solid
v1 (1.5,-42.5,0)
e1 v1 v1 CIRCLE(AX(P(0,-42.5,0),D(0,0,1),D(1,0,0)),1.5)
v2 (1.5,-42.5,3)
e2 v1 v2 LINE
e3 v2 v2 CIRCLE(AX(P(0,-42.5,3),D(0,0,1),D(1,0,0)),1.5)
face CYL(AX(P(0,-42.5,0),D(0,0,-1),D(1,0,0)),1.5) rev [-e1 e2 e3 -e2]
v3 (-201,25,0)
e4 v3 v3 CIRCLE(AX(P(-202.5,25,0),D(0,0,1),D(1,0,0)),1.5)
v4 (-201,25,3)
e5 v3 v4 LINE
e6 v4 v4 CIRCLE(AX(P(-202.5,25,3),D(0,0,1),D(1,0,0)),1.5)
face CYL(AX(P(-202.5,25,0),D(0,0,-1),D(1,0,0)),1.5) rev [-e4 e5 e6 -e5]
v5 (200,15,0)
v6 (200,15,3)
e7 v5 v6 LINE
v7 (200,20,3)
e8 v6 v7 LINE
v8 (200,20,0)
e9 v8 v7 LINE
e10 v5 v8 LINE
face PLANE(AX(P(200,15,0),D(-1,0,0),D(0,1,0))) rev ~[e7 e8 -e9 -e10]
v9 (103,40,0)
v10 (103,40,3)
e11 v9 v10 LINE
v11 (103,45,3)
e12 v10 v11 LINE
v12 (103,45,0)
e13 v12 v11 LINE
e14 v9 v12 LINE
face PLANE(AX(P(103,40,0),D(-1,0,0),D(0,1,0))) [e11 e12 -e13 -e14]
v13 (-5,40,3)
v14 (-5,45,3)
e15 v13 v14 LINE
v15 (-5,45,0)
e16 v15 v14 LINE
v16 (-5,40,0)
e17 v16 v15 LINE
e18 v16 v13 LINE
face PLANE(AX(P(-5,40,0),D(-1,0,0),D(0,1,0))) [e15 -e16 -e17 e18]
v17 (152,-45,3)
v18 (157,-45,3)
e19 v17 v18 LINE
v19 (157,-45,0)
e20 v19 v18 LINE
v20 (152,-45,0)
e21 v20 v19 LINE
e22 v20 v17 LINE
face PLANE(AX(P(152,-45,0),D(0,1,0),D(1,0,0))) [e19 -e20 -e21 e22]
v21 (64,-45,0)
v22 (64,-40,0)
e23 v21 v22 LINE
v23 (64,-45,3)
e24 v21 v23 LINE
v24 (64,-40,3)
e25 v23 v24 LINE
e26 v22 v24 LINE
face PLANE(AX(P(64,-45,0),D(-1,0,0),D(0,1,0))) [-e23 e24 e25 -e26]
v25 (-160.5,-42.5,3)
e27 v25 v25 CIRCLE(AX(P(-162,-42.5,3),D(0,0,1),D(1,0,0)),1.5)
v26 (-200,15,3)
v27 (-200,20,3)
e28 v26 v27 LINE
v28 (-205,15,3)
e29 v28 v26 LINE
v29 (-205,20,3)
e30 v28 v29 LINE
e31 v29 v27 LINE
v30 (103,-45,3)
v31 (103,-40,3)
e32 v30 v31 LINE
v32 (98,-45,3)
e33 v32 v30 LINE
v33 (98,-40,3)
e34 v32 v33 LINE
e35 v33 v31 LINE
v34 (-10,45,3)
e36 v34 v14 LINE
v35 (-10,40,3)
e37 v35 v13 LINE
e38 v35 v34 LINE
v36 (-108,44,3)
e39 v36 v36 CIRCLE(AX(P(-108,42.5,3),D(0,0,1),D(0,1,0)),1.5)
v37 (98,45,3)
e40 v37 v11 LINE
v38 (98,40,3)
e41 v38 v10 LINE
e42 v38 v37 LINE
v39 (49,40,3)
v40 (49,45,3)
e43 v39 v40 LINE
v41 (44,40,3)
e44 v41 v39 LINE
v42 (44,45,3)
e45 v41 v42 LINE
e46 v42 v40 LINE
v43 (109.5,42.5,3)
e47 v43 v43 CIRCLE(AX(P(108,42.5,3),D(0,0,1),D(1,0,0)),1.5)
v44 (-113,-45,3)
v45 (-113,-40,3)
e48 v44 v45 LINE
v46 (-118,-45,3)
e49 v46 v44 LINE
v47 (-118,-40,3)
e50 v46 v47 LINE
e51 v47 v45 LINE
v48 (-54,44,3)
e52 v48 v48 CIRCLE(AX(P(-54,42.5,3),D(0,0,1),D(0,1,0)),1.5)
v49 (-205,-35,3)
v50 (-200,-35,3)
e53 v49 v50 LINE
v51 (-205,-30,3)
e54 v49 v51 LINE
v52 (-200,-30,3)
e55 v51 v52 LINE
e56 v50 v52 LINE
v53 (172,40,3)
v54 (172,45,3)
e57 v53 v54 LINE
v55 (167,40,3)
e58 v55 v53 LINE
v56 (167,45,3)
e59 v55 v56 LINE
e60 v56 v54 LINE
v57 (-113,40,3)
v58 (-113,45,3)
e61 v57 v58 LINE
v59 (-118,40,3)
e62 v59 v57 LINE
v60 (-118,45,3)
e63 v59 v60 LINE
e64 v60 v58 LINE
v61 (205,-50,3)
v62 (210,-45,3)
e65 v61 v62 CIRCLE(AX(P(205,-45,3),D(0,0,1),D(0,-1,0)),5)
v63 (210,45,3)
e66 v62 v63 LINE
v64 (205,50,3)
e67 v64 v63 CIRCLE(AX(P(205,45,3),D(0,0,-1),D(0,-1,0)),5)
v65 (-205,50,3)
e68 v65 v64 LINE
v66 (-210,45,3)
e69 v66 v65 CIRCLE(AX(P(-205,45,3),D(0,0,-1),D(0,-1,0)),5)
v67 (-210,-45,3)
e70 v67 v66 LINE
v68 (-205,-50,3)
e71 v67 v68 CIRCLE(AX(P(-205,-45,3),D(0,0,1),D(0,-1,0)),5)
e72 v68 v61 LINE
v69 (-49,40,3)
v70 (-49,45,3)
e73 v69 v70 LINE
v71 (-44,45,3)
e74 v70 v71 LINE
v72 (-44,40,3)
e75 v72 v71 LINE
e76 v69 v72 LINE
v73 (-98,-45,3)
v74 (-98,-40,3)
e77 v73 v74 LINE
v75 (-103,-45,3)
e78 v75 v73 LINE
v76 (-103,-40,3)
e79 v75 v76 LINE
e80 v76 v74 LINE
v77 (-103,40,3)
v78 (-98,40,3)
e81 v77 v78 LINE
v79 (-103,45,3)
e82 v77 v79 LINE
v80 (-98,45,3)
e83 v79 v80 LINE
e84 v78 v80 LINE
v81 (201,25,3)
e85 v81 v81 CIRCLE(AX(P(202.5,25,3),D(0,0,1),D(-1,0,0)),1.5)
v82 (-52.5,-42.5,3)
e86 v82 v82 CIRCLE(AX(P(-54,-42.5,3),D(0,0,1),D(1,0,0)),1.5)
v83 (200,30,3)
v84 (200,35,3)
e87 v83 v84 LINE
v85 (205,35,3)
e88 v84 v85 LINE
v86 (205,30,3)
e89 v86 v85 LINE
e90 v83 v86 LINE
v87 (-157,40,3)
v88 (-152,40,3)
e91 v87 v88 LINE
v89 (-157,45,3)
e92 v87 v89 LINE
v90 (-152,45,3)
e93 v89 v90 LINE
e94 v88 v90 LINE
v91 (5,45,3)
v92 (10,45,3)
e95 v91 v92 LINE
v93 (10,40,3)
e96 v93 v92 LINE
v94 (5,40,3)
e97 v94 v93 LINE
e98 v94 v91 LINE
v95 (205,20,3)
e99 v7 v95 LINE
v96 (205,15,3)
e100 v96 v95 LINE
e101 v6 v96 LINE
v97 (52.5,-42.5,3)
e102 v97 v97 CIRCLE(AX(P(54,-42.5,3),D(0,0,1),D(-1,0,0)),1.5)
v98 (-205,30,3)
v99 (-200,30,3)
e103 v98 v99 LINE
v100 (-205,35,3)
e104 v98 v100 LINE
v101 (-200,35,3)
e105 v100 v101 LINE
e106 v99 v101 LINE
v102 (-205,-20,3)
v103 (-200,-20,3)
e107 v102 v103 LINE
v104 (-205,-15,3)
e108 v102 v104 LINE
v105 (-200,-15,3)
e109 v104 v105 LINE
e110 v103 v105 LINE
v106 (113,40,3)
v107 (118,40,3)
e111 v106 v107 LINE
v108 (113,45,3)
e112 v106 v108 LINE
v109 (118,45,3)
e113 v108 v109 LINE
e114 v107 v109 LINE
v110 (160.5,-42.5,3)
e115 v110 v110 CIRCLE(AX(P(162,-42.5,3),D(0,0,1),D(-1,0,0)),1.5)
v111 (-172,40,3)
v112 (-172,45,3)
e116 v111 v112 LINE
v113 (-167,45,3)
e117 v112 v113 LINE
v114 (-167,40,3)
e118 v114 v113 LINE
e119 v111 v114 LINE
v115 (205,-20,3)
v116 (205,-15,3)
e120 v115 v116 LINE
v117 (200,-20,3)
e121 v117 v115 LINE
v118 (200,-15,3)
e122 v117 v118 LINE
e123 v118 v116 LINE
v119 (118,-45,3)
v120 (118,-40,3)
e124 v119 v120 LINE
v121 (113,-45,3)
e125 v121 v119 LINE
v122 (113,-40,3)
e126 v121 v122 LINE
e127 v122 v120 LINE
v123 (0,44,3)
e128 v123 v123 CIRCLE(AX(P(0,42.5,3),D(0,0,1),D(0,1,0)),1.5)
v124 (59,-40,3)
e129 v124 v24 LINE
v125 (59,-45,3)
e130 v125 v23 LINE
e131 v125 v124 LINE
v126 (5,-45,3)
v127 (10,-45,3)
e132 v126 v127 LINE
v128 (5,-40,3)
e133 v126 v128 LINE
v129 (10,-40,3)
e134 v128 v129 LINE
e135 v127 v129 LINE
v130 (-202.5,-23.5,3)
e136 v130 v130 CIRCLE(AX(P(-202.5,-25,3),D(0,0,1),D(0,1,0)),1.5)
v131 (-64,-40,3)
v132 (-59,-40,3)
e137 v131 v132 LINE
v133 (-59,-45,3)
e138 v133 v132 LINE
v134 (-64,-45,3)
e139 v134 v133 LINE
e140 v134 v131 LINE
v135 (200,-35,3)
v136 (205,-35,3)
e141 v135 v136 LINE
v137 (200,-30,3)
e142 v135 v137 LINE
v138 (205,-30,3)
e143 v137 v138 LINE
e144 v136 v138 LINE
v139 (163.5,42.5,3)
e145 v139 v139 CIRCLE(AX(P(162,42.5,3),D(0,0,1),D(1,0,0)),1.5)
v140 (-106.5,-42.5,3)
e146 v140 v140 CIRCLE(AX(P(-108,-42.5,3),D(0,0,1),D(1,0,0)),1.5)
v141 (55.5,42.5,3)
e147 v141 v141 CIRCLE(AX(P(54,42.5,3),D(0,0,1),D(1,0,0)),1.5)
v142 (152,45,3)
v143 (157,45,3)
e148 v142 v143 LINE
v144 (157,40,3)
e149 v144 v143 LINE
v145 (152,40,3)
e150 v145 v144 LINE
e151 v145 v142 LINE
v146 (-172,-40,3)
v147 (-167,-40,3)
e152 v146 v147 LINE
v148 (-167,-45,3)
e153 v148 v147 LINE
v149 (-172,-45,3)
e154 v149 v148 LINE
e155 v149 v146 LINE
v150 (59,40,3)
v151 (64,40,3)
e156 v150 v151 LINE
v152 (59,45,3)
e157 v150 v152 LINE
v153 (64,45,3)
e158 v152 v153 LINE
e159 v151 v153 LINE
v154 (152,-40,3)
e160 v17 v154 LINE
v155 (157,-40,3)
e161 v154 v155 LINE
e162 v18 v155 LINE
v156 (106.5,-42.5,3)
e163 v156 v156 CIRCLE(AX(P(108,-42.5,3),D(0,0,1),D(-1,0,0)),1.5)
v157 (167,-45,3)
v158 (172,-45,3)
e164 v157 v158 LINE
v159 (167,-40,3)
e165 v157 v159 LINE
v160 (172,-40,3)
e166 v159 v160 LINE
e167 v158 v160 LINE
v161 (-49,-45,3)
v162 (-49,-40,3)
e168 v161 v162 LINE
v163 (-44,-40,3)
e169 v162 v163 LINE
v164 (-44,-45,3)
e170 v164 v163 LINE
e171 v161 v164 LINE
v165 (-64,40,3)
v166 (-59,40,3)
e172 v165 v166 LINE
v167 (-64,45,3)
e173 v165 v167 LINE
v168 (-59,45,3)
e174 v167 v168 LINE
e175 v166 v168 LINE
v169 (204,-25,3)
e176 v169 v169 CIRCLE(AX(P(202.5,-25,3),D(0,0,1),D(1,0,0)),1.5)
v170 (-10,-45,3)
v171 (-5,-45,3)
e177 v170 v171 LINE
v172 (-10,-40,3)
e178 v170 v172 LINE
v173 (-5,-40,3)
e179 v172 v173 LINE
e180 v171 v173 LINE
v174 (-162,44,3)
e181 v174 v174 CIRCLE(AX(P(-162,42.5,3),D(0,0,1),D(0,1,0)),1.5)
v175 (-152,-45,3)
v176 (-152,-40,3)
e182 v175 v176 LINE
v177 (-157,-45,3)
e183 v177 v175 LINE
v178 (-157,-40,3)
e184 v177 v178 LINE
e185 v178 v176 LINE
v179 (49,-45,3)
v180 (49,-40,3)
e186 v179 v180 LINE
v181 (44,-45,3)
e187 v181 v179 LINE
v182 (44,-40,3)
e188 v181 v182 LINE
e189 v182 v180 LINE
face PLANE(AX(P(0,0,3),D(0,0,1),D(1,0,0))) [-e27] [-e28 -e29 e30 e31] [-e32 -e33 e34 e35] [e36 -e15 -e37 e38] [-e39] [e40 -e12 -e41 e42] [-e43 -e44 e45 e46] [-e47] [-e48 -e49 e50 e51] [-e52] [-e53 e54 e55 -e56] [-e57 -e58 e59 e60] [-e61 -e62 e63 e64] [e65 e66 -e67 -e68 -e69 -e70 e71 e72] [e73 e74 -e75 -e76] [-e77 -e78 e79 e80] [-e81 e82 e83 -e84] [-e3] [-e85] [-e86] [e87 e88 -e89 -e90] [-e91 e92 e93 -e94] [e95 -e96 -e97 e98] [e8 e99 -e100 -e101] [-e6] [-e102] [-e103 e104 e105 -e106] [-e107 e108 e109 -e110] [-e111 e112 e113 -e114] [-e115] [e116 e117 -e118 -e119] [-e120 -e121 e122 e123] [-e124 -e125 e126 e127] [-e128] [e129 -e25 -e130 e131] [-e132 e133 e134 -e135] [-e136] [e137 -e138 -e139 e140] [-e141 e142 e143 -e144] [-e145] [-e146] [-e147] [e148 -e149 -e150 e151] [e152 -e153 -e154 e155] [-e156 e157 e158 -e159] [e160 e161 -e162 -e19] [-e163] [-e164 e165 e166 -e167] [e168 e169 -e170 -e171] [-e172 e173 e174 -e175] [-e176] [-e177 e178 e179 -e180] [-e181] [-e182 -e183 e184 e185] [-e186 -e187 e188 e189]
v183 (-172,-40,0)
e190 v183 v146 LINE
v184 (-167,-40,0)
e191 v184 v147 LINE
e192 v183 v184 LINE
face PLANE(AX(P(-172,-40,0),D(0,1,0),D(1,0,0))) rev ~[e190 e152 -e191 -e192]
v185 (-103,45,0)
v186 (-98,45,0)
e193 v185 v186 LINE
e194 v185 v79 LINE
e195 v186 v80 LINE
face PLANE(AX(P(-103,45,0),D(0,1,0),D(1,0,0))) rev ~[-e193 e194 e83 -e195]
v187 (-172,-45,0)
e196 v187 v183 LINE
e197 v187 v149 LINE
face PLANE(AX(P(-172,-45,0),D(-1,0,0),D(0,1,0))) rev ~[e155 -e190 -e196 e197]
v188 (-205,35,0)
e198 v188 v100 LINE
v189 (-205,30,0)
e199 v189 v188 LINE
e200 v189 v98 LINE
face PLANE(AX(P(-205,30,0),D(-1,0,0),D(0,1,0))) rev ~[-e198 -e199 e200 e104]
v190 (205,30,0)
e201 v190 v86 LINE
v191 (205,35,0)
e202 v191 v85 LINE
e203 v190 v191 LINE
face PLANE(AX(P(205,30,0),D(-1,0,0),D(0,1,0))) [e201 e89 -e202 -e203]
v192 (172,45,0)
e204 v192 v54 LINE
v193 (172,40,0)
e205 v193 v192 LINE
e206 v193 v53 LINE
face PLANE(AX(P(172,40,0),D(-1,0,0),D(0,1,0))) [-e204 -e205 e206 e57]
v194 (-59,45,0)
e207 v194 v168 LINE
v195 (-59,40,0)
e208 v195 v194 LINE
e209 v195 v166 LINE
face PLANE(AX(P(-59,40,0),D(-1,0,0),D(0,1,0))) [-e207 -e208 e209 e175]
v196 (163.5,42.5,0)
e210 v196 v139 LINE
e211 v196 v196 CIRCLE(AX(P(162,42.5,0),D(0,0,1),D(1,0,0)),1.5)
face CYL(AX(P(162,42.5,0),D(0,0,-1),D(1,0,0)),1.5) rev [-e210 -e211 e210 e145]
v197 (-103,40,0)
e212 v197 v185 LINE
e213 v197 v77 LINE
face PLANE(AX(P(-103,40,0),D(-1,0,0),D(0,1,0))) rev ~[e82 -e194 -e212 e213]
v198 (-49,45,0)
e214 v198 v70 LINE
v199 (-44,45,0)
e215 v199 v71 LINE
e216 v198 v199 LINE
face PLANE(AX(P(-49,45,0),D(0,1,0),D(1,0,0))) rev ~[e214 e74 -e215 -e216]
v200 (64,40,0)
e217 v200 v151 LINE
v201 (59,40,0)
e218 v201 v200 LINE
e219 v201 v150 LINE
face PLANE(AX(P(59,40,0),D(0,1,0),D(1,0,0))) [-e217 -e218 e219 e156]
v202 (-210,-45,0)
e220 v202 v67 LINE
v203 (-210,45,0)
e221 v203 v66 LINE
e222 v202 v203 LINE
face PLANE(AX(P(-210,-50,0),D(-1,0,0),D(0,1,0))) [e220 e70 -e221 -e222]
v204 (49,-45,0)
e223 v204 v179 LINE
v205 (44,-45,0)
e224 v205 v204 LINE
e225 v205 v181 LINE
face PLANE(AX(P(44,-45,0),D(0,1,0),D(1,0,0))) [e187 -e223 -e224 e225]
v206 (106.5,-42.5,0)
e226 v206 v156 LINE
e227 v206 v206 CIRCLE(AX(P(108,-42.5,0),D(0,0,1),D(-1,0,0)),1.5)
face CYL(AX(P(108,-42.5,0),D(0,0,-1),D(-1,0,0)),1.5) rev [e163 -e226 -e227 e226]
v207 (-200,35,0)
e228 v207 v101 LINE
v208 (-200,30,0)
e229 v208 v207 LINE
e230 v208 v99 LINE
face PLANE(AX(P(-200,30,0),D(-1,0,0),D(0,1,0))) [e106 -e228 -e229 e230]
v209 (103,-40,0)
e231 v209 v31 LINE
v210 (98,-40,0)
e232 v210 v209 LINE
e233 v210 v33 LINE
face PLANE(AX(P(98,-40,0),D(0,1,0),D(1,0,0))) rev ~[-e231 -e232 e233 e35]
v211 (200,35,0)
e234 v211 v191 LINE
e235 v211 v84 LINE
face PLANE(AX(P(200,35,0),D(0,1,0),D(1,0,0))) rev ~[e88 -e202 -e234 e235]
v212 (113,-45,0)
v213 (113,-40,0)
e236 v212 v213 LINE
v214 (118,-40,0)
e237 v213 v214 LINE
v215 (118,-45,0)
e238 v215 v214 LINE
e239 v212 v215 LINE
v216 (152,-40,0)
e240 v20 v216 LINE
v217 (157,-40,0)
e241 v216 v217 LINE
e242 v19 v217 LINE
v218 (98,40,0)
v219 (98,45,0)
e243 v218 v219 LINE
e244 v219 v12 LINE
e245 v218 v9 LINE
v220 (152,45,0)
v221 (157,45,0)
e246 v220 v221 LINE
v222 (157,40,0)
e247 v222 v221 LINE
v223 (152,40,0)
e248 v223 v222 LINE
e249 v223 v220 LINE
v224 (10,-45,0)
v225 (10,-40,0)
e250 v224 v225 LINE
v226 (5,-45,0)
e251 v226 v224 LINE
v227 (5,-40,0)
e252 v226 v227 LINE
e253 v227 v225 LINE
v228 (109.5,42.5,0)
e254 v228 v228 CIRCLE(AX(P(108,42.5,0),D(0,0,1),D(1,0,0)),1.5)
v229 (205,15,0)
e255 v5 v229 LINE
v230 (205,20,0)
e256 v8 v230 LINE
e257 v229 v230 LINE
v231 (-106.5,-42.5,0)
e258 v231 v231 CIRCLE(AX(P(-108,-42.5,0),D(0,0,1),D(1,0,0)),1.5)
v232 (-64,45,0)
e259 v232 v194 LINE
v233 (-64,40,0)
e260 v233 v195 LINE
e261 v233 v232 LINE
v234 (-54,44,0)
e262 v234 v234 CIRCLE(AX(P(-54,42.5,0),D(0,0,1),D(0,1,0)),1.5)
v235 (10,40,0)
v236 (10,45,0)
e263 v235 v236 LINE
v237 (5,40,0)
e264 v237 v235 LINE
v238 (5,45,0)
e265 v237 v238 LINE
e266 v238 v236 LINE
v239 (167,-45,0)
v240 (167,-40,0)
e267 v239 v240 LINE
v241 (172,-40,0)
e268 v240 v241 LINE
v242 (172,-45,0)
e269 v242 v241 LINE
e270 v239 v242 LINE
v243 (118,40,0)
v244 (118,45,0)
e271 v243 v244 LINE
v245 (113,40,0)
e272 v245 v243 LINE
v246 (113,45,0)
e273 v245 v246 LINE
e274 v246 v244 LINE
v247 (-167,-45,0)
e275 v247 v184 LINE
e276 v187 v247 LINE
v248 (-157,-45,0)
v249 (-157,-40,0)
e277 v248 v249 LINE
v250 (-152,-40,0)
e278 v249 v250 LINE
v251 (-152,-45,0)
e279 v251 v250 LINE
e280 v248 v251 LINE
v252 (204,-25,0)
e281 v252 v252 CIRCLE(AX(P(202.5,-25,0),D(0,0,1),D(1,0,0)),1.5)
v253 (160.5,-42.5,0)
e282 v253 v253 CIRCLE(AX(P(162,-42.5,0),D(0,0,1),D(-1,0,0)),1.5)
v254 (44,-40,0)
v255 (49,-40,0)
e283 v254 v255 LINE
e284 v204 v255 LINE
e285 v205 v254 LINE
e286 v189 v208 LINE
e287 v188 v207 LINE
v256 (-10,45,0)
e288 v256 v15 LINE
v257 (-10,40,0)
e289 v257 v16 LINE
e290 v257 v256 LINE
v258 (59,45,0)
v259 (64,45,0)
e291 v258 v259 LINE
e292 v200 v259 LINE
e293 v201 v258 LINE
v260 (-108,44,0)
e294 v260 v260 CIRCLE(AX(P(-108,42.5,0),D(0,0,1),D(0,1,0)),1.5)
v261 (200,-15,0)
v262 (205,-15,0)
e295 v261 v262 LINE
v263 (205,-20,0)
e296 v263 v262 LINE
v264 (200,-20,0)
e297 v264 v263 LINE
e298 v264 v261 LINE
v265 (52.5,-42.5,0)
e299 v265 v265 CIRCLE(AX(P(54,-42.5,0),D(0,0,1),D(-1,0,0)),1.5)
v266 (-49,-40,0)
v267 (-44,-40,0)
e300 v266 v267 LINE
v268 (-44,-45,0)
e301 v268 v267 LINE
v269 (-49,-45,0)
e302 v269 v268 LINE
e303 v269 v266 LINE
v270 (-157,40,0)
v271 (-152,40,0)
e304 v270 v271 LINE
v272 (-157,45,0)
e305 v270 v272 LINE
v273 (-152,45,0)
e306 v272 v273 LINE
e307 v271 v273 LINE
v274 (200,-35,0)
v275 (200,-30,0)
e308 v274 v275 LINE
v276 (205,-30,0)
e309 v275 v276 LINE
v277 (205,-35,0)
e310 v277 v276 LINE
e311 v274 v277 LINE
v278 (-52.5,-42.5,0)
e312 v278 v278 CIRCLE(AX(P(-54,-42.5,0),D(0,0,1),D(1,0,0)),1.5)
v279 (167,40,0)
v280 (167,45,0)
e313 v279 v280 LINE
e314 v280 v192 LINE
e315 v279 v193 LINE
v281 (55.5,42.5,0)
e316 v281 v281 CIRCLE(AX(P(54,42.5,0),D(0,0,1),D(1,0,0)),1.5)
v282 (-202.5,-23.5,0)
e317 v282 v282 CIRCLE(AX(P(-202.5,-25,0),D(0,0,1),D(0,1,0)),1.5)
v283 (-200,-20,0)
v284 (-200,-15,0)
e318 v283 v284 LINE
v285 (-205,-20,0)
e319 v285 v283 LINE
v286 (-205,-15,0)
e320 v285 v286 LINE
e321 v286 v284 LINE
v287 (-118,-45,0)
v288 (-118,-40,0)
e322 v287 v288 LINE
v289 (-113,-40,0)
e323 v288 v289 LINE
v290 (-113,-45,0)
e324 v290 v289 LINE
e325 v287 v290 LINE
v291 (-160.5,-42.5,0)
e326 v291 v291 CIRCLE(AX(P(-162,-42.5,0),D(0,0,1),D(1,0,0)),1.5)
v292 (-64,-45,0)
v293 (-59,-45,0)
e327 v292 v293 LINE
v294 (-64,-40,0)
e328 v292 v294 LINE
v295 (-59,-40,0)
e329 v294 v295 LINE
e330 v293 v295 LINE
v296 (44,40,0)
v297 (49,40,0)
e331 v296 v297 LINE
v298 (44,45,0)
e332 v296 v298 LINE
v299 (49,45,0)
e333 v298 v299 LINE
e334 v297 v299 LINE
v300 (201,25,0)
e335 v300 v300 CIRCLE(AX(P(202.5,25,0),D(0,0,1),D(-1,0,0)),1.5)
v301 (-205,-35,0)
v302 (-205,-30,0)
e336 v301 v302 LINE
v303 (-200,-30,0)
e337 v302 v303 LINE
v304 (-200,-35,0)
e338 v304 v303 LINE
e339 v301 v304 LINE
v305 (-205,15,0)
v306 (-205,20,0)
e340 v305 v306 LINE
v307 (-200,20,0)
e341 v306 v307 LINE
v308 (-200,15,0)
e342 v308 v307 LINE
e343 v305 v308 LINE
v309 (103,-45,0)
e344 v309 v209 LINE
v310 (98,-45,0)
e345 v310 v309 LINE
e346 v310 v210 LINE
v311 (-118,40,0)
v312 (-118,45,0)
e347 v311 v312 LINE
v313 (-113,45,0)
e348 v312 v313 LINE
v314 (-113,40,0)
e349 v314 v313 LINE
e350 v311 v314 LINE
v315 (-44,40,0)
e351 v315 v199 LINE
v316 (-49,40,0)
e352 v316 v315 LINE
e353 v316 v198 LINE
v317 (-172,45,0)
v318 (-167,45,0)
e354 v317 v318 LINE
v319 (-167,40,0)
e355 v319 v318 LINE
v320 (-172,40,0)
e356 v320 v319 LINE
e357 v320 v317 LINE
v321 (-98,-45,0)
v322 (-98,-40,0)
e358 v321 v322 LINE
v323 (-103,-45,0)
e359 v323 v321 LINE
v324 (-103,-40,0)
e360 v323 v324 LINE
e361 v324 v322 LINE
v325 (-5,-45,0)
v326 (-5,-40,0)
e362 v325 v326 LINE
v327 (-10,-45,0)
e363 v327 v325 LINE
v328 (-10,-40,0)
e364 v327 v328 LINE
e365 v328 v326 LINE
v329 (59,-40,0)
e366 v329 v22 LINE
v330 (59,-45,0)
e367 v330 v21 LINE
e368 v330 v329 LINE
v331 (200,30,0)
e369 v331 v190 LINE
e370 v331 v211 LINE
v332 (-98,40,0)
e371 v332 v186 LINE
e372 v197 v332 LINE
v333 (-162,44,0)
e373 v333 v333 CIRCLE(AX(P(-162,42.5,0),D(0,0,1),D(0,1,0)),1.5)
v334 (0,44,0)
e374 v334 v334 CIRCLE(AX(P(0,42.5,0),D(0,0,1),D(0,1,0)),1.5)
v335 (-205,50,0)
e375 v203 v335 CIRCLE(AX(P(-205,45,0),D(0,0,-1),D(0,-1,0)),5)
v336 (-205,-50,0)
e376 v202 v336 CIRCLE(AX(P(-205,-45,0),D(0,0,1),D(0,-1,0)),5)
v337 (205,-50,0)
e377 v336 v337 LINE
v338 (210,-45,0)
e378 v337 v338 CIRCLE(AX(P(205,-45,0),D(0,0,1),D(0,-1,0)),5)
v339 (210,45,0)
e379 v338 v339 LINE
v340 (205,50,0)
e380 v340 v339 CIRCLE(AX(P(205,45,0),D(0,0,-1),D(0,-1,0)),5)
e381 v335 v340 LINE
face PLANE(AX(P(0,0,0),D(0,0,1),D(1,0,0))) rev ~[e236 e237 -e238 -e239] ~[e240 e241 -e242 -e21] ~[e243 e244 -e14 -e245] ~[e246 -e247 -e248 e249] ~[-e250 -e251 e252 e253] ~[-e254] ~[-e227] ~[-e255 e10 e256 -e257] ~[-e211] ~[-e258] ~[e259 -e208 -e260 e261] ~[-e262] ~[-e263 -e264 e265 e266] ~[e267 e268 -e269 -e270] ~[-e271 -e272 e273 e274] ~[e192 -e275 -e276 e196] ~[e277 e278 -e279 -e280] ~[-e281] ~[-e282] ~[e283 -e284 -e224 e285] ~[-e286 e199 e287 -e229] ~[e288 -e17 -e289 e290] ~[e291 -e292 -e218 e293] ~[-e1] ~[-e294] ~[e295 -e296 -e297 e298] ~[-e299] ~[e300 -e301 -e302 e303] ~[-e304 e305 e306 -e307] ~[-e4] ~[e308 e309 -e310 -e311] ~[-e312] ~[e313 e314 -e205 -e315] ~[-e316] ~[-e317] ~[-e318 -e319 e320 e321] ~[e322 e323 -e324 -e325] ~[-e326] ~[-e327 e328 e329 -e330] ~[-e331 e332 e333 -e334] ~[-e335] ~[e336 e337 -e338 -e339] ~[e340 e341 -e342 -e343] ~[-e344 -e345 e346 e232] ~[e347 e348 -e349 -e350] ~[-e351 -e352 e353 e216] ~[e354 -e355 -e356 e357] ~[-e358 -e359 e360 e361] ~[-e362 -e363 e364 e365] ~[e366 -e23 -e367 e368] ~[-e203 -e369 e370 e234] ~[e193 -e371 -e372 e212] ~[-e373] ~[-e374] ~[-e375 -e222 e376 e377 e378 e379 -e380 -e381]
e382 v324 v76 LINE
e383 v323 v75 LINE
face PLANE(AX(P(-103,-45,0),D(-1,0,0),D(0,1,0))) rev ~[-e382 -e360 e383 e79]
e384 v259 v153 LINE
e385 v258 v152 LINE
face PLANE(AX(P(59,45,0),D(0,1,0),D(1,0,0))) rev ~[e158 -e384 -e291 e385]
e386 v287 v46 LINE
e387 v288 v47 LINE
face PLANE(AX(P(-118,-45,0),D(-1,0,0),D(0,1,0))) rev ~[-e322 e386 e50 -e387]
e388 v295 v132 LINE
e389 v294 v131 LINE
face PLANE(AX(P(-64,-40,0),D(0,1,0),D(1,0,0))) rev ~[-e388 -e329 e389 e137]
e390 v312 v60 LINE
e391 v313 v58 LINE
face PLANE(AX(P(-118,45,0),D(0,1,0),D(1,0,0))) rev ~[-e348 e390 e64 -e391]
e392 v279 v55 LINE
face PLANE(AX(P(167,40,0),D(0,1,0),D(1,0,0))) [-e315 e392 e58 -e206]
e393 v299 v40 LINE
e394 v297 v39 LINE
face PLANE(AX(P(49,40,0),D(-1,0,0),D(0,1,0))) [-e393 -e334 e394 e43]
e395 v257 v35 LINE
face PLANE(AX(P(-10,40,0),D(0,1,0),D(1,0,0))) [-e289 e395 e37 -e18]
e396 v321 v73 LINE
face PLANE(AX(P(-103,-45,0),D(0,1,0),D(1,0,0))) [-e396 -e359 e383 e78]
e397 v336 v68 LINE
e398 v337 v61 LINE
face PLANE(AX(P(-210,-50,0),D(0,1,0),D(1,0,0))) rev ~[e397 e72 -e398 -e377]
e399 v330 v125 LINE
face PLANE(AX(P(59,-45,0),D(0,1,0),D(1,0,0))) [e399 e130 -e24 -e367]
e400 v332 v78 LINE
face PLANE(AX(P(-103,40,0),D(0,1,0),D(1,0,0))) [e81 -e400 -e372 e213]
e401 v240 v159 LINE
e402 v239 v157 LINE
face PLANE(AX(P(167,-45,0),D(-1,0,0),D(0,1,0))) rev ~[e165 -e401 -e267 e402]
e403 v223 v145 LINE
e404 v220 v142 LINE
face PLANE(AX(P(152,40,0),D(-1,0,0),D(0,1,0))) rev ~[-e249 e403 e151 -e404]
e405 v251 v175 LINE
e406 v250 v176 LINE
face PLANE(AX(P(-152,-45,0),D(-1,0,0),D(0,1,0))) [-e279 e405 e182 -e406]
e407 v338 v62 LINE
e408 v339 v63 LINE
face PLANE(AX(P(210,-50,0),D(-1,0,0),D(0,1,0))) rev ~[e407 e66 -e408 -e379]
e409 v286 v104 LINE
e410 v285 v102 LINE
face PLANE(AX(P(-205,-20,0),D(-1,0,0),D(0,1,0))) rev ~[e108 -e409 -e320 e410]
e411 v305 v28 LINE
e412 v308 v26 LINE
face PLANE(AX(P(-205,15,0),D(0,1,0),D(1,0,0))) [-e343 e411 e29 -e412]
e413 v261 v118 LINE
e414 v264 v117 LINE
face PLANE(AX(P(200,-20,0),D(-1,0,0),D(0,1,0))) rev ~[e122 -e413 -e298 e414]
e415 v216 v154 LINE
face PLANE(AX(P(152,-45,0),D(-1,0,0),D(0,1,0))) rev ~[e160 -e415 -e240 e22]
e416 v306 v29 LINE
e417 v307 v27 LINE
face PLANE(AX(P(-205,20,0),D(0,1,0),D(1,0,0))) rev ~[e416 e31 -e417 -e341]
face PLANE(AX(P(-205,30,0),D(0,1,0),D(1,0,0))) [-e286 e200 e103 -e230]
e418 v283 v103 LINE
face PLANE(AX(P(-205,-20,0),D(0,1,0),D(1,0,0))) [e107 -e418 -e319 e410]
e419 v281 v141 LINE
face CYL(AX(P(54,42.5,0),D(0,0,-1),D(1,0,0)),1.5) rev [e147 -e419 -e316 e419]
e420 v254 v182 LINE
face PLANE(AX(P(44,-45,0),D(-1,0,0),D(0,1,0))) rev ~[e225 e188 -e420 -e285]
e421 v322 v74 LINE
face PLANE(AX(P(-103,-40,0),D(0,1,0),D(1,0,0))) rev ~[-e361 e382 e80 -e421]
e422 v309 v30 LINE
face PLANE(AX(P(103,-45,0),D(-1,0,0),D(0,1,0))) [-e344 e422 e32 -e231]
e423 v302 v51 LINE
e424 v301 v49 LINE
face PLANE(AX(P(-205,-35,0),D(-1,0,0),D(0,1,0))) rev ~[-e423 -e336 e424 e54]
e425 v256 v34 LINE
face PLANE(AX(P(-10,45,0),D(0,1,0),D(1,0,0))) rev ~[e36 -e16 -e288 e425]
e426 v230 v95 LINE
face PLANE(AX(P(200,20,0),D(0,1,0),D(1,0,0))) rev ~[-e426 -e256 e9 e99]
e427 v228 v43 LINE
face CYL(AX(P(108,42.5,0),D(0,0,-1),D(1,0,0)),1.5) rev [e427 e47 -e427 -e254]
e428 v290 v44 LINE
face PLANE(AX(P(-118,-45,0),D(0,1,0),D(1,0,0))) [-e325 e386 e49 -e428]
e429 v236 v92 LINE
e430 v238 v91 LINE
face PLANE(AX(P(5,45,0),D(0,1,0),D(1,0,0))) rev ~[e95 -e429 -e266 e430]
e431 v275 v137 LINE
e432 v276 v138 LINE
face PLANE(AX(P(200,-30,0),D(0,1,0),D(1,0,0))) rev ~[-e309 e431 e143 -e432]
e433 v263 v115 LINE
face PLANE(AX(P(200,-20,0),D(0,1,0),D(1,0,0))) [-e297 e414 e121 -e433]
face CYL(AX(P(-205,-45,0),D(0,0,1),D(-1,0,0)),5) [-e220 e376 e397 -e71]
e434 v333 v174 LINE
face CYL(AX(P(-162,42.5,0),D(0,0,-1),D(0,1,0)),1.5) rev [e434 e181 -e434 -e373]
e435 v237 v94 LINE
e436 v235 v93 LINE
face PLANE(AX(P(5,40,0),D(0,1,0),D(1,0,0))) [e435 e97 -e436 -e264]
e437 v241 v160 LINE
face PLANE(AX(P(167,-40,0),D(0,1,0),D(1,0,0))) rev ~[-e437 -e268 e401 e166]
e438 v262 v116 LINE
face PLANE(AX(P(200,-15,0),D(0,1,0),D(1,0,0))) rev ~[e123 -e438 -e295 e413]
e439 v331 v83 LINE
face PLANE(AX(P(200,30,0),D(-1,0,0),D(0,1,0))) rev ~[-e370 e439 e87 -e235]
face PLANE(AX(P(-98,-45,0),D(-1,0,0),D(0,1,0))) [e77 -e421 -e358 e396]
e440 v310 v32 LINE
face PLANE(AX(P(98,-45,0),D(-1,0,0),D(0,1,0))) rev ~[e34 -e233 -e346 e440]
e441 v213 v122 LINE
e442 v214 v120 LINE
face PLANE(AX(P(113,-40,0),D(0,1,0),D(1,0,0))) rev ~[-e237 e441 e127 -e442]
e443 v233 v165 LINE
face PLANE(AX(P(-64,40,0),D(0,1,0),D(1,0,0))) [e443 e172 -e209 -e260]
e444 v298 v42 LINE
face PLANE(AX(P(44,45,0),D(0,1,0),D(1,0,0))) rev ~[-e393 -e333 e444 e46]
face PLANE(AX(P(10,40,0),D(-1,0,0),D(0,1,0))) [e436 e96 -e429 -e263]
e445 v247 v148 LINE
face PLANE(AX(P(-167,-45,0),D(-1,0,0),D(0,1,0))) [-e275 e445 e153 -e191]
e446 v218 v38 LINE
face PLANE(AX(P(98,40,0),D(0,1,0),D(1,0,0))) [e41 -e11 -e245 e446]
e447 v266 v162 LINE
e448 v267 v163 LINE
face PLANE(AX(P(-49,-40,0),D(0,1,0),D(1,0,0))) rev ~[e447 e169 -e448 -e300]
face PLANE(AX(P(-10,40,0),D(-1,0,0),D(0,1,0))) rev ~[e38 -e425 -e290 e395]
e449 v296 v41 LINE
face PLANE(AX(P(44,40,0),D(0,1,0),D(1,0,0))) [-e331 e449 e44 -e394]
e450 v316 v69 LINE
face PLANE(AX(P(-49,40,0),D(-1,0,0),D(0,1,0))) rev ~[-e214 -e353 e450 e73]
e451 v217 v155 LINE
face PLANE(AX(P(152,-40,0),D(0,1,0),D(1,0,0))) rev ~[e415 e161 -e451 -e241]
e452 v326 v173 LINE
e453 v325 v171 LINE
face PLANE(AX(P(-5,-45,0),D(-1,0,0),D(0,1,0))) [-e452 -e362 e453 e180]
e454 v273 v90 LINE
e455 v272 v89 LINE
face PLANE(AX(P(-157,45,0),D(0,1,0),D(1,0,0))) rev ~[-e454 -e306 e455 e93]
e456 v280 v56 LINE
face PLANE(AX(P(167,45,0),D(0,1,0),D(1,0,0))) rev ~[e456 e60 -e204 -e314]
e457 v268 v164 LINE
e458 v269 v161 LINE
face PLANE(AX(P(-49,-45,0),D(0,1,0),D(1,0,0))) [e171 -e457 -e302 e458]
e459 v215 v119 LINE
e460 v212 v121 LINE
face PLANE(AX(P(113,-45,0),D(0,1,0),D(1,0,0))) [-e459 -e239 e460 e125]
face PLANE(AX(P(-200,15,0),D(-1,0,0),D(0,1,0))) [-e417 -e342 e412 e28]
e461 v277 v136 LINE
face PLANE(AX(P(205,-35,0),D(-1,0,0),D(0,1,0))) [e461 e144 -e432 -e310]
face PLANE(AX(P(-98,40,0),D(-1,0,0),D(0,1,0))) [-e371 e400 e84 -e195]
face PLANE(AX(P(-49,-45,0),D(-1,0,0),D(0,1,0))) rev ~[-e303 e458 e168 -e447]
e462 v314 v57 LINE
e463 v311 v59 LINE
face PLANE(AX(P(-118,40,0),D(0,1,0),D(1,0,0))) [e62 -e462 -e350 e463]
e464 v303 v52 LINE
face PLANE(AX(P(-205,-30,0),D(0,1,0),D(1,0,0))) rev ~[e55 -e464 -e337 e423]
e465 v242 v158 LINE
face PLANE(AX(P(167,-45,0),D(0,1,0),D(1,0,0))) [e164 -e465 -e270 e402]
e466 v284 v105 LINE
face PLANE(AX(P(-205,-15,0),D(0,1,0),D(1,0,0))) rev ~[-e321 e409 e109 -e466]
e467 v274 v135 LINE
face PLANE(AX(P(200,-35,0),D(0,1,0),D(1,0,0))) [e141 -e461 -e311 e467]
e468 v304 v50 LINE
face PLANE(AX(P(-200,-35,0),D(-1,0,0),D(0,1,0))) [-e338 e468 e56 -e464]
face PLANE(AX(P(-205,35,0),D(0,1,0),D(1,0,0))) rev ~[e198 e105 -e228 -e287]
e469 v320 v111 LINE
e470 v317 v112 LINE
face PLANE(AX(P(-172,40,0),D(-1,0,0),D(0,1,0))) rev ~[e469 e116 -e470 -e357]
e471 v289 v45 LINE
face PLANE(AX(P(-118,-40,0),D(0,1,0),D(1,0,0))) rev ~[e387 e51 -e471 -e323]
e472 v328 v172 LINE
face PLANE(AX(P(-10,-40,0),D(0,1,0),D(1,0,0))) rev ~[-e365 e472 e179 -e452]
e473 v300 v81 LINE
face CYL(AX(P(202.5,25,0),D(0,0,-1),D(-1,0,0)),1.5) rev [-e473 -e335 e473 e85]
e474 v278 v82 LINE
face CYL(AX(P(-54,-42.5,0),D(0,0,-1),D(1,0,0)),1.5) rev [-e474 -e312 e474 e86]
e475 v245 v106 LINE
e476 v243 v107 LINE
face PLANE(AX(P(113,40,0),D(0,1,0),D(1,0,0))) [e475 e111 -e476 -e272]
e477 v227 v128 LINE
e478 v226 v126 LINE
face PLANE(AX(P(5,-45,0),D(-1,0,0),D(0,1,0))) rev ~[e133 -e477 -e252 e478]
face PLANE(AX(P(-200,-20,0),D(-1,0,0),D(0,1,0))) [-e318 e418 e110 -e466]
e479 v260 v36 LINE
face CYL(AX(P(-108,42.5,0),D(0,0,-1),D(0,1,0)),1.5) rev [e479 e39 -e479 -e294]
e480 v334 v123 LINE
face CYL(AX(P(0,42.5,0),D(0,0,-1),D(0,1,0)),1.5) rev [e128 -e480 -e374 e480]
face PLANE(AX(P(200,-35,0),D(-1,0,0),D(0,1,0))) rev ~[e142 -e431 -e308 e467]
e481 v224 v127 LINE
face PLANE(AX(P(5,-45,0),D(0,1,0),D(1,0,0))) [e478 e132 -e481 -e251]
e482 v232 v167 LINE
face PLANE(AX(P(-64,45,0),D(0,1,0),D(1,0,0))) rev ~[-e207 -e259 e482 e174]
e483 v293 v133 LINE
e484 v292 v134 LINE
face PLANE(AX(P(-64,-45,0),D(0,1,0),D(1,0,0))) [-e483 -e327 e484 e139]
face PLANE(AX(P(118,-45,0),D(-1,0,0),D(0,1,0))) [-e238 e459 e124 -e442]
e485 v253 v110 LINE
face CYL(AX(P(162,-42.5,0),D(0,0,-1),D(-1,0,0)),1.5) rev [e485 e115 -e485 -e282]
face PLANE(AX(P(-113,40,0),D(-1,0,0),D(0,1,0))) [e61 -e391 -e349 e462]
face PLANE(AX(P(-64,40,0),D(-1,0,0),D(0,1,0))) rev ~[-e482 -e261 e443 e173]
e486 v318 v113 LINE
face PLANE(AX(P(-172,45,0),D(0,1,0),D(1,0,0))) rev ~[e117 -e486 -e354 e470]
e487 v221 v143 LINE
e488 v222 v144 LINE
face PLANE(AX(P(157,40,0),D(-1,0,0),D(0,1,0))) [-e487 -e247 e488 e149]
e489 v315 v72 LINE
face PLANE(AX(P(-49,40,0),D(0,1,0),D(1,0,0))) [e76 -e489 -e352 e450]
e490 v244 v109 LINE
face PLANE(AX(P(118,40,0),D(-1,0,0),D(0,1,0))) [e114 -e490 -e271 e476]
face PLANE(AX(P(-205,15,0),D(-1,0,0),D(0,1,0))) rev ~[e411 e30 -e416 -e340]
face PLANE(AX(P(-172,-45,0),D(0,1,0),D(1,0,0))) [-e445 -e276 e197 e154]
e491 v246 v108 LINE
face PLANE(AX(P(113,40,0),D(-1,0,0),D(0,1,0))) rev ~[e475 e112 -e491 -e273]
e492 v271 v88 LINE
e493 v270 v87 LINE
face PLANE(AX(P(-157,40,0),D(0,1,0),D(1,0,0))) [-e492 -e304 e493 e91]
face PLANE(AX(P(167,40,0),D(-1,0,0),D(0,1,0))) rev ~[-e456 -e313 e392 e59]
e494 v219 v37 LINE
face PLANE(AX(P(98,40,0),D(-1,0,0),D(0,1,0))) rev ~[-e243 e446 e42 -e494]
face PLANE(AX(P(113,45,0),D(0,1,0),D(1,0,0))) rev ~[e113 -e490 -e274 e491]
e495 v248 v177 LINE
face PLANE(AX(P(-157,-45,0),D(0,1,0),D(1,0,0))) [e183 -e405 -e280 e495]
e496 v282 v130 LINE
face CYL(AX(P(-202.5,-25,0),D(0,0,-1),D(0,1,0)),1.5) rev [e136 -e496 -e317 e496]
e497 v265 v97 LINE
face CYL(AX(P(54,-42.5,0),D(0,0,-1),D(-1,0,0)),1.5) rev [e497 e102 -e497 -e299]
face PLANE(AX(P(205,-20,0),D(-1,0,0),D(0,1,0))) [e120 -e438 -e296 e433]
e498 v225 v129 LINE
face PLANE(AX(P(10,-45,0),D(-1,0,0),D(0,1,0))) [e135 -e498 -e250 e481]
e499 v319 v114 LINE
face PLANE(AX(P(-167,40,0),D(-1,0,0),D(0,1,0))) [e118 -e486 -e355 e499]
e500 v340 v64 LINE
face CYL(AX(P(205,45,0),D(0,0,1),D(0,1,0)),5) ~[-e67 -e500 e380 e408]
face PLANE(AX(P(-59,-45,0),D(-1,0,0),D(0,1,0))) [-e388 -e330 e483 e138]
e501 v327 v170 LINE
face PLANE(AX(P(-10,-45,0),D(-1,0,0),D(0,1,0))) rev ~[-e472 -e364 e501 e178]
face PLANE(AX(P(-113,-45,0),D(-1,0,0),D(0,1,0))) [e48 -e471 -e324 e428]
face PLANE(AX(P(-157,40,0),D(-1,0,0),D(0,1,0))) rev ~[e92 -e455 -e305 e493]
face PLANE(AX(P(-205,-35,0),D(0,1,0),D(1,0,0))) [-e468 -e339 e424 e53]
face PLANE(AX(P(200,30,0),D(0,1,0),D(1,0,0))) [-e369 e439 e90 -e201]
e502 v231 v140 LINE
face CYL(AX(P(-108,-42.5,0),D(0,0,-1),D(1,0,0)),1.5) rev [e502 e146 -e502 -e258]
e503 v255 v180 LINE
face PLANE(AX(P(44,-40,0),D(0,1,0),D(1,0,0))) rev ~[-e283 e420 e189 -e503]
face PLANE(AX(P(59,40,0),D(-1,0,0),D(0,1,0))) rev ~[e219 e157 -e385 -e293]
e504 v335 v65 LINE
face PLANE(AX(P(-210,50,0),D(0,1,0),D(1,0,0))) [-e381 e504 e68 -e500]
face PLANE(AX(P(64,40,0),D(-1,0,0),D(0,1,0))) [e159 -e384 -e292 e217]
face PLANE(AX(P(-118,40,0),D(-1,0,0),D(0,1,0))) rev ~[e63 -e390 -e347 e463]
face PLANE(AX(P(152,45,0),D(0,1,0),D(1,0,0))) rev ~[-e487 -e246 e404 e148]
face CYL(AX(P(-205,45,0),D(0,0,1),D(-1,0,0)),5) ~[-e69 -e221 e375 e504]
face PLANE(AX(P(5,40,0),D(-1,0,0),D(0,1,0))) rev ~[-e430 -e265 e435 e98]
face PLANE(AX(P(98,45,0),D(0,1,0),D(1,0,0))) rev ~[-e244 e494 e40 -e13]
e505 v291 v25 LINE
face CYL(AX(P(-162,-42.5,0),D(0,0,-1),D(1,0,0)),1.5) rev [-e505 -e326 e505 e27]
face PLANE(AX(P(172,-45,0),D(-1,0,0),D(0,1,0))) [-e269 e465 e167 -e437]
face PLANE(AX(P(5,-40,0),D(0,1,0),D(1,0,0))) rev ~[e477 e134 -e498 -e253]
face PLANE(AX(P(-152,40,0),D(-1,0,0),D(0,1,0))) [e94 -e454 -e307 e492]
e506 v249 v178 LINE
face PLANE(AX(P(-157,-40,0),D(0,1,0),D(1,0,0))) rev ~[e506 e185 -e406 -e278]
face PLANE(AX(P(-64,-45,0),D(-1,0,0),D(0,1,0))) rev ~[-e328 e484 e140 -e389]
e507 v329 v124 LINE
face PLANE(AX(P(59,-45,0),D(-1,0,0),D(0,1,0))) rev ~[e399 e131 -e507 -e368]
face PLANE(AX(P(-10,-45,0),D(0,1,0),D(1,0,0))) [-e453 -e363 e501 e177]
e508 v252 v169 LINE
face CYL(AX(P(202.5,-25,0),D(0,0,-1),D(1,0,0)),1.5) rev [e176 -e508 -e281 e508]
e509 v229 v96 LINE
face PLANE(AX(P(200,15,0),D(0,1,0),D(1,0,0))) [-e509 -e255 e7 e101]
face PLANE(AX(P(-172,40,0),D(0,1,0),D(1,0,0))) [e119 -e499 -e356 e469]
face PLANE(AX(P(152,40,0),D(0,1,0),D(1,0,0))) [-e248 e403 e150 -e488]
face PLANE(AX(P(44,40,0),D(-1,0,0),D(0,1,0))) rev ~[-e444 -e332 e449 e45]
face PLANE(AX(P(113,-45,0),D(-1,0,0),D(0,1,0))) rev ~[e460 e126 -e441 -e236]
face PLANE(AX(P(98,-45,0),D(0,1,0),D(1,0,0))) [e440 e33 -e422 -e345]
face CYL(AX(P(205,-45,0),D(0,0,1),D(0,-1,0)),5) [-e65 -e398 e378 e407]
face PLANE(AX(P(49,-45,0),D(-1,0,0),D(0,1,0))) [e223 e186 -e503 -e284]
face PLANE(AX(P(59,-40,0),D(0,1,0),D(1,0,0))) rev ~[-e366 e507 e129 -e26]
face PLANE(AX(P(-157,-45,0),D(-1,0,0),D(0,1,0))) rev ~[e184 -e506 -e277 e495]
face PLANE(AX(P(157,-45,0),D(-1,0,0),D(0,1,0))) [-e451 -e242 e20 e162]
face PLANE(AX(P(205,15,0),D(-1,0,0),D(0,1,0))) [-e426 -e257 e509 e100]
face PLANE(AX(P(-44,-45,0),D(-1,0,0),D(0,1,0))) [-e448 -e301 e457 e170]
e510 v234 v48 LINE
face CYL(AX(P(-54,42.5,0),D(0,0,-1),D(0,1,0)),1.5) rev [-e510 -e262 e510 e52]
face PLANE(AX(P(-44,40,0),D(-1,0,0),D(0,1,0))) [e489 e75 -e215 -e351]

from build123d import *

# Parameters (mm, degrees)
SKETCH1_W           = 420
SKETCH1_H           = 100
SKETCH1_R           = 1.5
SKETCH1_W_2         = 5
SKETCH1_H_2         = 5
BOSS_EXTRUDE1_DEPTH = 3
FILLET1_R           = 5


with BuildPart() as part:
    # Sketch1 → Boss-Extrude1 (new body)
    with BuildSketch(Plane.XY):
        Rectangle(SKETCH1_W, SKETCH1_H)
        with Locations((0, -42.5)):
            Circle(SKETCH1_R, mode=Mode.SUBTRACT)
        with Locations((-54, -42.5)):
            Circle(SKETCH1_R, mode=Mode.SUBTRACT)
        with Locations((-108, -42.5)):
            Circle(SKETCH1_R, mode=Mode.SUBTRACT)
        with Locations((-162, -42.5)):
            Circle(SKETCH1_R, mode=Mode.SUBTRACT)
        with Locations((-202.5, 25)):
            Circle(SKETCH1_R, mode=Mode.SUBTRACT)
        with Locations(Location((54, -42.5, 0), (0, 0, 180))):
            Circle(SKETCH1_R, mode=Mode.SUBTRACT)
        with Locations(Location((108, -42.5, 0), (0, 0, 180))):
            Circle(SKETCH1_R, mode=Mode.SUBTRACT)
        with Locations(Location((162, -42.5, 0), (0, 0, 180))):
            Circle(SKETCH1_R, mode=Mode.SUBTRACT)
        with Locations(Location((-54, 42.5, 0), (0, 0, 90))):
            Circle(SKETCH1_R, mode=Mode.SUBTRACT)
        with Locations((162, 42.5)):
            Circle(SKETCH1_R, mode=Mode.SUBTRACT)
        with Locations(Location((-108, 42.5, 0), (0, 0, 90))):
            Circle(SKETCH1_R, mode=Mode.SUBTRACT)
        with Locations(Location((0, 42.5, 0), (0, 0, 90))):
            Circle(SKETCH1_R, mode=Mode.SUBTRACT)
        with Locations(Location((-162, 42.5, 0), (0, 0, 90))):
            Circle(SKETCH1_R, mode=Mode.SUBTRACT)
        with Locations((54, 42.5)):
            Circle(SKETCH1_R, mode=Mode.SUBTRACT)
        with Locations((108, 42.5)):
            Circle(SKETCH1_R, mode=Mode.SUBTRACT)
        with Locations(Location((-202.5, -25, 0), (0, 0, 90))):
            Circle(SKETCH1_R, mode=Mode.SUBTRACT)
        with Locations(Location((202.5, 25, 0), (0, 0, 180))):
            Circle(SKETCH1_R, mode=Mode.SUBTRACT)
        with Locations((202.5, -25)):
            Circle(SKETCH1_R, mode=Mode.SUBTRACT)
        with Locations((-7.5, -42.5)):
            Rectangle(SKETCH1_W_2, SKETCH1_H_2, mode=Mode.SUBTRACT)
        with Locations((7.5, -42.5)):
            Rectangle(SKETCH1_W_2, SKETCH1_H_2, mode=Mode.SUBTRACT)
        with Locations((-61.5, -42.5)):
            Rectangle(SKETCH1_W_2, SKETCH1_H_2, mode=Mode.SUBTRACT)
        with Locations((-46.5, -42.5)):
            Rectangle(SKETCH1_W_2, SKETCH1_H_2, mode=Mode.SUBTRACT)
        with Locations((-115.5, -42.5)):
            Rectangle(SKETCH1_W_2, SKETCH1_H_2, mode=Mode.SUBTRACT)
        with Locations((-100.5, -42.5)):
            Rectangle(SKETCH1_W_2, SKETCH1_H_2, mode=Mode.SUBTRACT)
        with Locations((-169.5, -42.5)):
            Rectangle(SKETCH1_W_2, SKETCH1_H_2, mode=Mode.SUBTRACT)
        with Locations((-154.5, -42.5)):
            Rectangle(SKETCH1_W_2, SKETCH1_H_2, mode=Mode.SUBTRACT)
        with Locations((-202.5, 17.5)):
            Rectangle(SKETCH1_W_2, SKETCH1_H_2, mode=Mode.SUBTRACT)
        with Locations((-202.5, 32.5)):
            Rectangle(SKETCH1_W_2, SKETCH1_H_2, mode=Mode.SUBTRACT)
        with Locations((61.5, -42.5)):
            Rectangle(SKETCH1_W_2, SKETCH1_H_2, mode=Mode.SUBTRACT)
        with Locations((46.5, -42.5)):
            Rectangle(SKETCH1_W_2, SKETCH1_H_2, mode=Mode.SUBTRACT)
        with Locations((115.5, -42.5)):
            Rectangle(SKETCH1_W_2, SKETCH1_H_2, mode=Mode.SUBTRACT)
        with Locations((100.5, -42.5)):
            Rectangle(SKETCH1_W_2, SKETCH1_H_2, mode=Mode.SUBTRACT)
        with Locations((169.5, -42.5)):
            Rectangle(SKETCH1_W_2, SKETCH1_H_2, mode=Mode.SUBTRACT)
        with Locations((154.5, -42.5)):
            Rectangle(SKETCH1_W_2, SKETCH1_H_2, mode=Mode.SUBTRACT)
        with Locations((-61.5, 42.5)):
            Rectangle(SKETCH1_W_2, SKETCH1_H_2, mode=Mode.SUBTRACT)
        with Locations((-46.5, 42.5)):
            Rectangle(SKETCH1_W_2, SKETCH1_H_2, mode=Mode.SUBTRACT)
        with Locations((169.5, 42.5)):
            Rectangle(SKETCH1_W_2, SKETCH1_H_2, mode=Mode.SUBTRACT)
        with Locations((154.5, 42.5)):
            Rectangle(SKETCH1_W_2, SKETCH1_H_2, mode=Mode.SUBTRACT)
        with Locations((-115.5, 42.5)):
            Rectangle(SKETCH1_W_2, SKETCH1_H_2, mode=Mode.SUBTRACT)
        with Locations((-100.5, 42.5)):
            Rectangle(SKETCH1_W_2, SKETCH1_H_2, mode=Mode.SUBTRACT)
        with Locations((-7.5, 42.5)):
            Rectangle(SKETCH1_W_2, SKETCH1_H_2, mode=Mode.SUBTRACT)
        with Locations((7.5, 42.5)):
            Rectangle(SKETCH1_W_2, SKETCH1_H_2, mode=Mode.SUBTRACT)
        with Locations((-169.5, 42.5)):
            Rectangle(SKETCH1_W_2, SKETCH1_H_2, mode=Mode.SUBTRACT)
        with Locations((-154.5, 42.5)):
            Rectangle(SKETCH1_W_2, SKETCH1_H_2, mode=Mode.SUBTRACT)
        with Locations((61.5, 42.5)):
            Rectangle(SKETCH1_W_2, SKETCH1_H_2, mode=Mode.SUBTRACT)
        with Locations((46.5, 42.5)):
            Rectangle(SKETCH1_W_2, SKETCH1_H_2, mode=Mode.SUBTRACT)
        with Locations((115.5, 42.5)):
            Rectangle(SKETCH1_W_2, SKETCH1_H_2, mode=Mode.SUBTRACT)
        with Locations((100.5, 42.5)):
            Rectangle(SKETCH1_W_2, SKETCH1_H_2, mode=Mode.SUBTRACT)
        with Locations((-202.5, -17.5)):
            Rectangle(SKETCH1_W_2, SKETCH1_H_2, mode=Mode.SUBTRACT)
        with Locations((-202.5, -32.5)):
            Rectangle(SKETCH1_W_2, SKETCH1_H_2, mode=Mode.SUBTRACT)
        with Locations((202.5, 17.5)):
            Rectangle(SKETCH1_W_2, SKETCH1_H_2, mode=Mode.SUBTRACT)
        with Locations((202.5, 32.5)):
            Rectangle(SKETCH1_W_2, SKETCH1_H_2, mode=Mode.SUBTRACT)
        with Locations((202.5, -17.5)):
            Rectangle(SKETCH1_W_2, SKETCH1_H_2, mode=Mode.SUBTRACT)
        with Locations((202.5, -32.5)):
            Rectangle(SKETCH1_W_2, SKETCH1_H_2, mode=Mode.SUBTRACT)
    extrude(amount=BOSS_EXTRUDE1_DEPTH)

    # Fillet1
    fillet1_edges = [part.edges().sort_by_distance(p)[0] for p in [
        (210, -50, 1.5),
        (-210, -50, 1.5),
        (-210, 50, 1.5),
        (210, 50, 1.5),
    ]]
    fillet(fillet1_edges, radius=FILLET1_R)


solid = part.part
